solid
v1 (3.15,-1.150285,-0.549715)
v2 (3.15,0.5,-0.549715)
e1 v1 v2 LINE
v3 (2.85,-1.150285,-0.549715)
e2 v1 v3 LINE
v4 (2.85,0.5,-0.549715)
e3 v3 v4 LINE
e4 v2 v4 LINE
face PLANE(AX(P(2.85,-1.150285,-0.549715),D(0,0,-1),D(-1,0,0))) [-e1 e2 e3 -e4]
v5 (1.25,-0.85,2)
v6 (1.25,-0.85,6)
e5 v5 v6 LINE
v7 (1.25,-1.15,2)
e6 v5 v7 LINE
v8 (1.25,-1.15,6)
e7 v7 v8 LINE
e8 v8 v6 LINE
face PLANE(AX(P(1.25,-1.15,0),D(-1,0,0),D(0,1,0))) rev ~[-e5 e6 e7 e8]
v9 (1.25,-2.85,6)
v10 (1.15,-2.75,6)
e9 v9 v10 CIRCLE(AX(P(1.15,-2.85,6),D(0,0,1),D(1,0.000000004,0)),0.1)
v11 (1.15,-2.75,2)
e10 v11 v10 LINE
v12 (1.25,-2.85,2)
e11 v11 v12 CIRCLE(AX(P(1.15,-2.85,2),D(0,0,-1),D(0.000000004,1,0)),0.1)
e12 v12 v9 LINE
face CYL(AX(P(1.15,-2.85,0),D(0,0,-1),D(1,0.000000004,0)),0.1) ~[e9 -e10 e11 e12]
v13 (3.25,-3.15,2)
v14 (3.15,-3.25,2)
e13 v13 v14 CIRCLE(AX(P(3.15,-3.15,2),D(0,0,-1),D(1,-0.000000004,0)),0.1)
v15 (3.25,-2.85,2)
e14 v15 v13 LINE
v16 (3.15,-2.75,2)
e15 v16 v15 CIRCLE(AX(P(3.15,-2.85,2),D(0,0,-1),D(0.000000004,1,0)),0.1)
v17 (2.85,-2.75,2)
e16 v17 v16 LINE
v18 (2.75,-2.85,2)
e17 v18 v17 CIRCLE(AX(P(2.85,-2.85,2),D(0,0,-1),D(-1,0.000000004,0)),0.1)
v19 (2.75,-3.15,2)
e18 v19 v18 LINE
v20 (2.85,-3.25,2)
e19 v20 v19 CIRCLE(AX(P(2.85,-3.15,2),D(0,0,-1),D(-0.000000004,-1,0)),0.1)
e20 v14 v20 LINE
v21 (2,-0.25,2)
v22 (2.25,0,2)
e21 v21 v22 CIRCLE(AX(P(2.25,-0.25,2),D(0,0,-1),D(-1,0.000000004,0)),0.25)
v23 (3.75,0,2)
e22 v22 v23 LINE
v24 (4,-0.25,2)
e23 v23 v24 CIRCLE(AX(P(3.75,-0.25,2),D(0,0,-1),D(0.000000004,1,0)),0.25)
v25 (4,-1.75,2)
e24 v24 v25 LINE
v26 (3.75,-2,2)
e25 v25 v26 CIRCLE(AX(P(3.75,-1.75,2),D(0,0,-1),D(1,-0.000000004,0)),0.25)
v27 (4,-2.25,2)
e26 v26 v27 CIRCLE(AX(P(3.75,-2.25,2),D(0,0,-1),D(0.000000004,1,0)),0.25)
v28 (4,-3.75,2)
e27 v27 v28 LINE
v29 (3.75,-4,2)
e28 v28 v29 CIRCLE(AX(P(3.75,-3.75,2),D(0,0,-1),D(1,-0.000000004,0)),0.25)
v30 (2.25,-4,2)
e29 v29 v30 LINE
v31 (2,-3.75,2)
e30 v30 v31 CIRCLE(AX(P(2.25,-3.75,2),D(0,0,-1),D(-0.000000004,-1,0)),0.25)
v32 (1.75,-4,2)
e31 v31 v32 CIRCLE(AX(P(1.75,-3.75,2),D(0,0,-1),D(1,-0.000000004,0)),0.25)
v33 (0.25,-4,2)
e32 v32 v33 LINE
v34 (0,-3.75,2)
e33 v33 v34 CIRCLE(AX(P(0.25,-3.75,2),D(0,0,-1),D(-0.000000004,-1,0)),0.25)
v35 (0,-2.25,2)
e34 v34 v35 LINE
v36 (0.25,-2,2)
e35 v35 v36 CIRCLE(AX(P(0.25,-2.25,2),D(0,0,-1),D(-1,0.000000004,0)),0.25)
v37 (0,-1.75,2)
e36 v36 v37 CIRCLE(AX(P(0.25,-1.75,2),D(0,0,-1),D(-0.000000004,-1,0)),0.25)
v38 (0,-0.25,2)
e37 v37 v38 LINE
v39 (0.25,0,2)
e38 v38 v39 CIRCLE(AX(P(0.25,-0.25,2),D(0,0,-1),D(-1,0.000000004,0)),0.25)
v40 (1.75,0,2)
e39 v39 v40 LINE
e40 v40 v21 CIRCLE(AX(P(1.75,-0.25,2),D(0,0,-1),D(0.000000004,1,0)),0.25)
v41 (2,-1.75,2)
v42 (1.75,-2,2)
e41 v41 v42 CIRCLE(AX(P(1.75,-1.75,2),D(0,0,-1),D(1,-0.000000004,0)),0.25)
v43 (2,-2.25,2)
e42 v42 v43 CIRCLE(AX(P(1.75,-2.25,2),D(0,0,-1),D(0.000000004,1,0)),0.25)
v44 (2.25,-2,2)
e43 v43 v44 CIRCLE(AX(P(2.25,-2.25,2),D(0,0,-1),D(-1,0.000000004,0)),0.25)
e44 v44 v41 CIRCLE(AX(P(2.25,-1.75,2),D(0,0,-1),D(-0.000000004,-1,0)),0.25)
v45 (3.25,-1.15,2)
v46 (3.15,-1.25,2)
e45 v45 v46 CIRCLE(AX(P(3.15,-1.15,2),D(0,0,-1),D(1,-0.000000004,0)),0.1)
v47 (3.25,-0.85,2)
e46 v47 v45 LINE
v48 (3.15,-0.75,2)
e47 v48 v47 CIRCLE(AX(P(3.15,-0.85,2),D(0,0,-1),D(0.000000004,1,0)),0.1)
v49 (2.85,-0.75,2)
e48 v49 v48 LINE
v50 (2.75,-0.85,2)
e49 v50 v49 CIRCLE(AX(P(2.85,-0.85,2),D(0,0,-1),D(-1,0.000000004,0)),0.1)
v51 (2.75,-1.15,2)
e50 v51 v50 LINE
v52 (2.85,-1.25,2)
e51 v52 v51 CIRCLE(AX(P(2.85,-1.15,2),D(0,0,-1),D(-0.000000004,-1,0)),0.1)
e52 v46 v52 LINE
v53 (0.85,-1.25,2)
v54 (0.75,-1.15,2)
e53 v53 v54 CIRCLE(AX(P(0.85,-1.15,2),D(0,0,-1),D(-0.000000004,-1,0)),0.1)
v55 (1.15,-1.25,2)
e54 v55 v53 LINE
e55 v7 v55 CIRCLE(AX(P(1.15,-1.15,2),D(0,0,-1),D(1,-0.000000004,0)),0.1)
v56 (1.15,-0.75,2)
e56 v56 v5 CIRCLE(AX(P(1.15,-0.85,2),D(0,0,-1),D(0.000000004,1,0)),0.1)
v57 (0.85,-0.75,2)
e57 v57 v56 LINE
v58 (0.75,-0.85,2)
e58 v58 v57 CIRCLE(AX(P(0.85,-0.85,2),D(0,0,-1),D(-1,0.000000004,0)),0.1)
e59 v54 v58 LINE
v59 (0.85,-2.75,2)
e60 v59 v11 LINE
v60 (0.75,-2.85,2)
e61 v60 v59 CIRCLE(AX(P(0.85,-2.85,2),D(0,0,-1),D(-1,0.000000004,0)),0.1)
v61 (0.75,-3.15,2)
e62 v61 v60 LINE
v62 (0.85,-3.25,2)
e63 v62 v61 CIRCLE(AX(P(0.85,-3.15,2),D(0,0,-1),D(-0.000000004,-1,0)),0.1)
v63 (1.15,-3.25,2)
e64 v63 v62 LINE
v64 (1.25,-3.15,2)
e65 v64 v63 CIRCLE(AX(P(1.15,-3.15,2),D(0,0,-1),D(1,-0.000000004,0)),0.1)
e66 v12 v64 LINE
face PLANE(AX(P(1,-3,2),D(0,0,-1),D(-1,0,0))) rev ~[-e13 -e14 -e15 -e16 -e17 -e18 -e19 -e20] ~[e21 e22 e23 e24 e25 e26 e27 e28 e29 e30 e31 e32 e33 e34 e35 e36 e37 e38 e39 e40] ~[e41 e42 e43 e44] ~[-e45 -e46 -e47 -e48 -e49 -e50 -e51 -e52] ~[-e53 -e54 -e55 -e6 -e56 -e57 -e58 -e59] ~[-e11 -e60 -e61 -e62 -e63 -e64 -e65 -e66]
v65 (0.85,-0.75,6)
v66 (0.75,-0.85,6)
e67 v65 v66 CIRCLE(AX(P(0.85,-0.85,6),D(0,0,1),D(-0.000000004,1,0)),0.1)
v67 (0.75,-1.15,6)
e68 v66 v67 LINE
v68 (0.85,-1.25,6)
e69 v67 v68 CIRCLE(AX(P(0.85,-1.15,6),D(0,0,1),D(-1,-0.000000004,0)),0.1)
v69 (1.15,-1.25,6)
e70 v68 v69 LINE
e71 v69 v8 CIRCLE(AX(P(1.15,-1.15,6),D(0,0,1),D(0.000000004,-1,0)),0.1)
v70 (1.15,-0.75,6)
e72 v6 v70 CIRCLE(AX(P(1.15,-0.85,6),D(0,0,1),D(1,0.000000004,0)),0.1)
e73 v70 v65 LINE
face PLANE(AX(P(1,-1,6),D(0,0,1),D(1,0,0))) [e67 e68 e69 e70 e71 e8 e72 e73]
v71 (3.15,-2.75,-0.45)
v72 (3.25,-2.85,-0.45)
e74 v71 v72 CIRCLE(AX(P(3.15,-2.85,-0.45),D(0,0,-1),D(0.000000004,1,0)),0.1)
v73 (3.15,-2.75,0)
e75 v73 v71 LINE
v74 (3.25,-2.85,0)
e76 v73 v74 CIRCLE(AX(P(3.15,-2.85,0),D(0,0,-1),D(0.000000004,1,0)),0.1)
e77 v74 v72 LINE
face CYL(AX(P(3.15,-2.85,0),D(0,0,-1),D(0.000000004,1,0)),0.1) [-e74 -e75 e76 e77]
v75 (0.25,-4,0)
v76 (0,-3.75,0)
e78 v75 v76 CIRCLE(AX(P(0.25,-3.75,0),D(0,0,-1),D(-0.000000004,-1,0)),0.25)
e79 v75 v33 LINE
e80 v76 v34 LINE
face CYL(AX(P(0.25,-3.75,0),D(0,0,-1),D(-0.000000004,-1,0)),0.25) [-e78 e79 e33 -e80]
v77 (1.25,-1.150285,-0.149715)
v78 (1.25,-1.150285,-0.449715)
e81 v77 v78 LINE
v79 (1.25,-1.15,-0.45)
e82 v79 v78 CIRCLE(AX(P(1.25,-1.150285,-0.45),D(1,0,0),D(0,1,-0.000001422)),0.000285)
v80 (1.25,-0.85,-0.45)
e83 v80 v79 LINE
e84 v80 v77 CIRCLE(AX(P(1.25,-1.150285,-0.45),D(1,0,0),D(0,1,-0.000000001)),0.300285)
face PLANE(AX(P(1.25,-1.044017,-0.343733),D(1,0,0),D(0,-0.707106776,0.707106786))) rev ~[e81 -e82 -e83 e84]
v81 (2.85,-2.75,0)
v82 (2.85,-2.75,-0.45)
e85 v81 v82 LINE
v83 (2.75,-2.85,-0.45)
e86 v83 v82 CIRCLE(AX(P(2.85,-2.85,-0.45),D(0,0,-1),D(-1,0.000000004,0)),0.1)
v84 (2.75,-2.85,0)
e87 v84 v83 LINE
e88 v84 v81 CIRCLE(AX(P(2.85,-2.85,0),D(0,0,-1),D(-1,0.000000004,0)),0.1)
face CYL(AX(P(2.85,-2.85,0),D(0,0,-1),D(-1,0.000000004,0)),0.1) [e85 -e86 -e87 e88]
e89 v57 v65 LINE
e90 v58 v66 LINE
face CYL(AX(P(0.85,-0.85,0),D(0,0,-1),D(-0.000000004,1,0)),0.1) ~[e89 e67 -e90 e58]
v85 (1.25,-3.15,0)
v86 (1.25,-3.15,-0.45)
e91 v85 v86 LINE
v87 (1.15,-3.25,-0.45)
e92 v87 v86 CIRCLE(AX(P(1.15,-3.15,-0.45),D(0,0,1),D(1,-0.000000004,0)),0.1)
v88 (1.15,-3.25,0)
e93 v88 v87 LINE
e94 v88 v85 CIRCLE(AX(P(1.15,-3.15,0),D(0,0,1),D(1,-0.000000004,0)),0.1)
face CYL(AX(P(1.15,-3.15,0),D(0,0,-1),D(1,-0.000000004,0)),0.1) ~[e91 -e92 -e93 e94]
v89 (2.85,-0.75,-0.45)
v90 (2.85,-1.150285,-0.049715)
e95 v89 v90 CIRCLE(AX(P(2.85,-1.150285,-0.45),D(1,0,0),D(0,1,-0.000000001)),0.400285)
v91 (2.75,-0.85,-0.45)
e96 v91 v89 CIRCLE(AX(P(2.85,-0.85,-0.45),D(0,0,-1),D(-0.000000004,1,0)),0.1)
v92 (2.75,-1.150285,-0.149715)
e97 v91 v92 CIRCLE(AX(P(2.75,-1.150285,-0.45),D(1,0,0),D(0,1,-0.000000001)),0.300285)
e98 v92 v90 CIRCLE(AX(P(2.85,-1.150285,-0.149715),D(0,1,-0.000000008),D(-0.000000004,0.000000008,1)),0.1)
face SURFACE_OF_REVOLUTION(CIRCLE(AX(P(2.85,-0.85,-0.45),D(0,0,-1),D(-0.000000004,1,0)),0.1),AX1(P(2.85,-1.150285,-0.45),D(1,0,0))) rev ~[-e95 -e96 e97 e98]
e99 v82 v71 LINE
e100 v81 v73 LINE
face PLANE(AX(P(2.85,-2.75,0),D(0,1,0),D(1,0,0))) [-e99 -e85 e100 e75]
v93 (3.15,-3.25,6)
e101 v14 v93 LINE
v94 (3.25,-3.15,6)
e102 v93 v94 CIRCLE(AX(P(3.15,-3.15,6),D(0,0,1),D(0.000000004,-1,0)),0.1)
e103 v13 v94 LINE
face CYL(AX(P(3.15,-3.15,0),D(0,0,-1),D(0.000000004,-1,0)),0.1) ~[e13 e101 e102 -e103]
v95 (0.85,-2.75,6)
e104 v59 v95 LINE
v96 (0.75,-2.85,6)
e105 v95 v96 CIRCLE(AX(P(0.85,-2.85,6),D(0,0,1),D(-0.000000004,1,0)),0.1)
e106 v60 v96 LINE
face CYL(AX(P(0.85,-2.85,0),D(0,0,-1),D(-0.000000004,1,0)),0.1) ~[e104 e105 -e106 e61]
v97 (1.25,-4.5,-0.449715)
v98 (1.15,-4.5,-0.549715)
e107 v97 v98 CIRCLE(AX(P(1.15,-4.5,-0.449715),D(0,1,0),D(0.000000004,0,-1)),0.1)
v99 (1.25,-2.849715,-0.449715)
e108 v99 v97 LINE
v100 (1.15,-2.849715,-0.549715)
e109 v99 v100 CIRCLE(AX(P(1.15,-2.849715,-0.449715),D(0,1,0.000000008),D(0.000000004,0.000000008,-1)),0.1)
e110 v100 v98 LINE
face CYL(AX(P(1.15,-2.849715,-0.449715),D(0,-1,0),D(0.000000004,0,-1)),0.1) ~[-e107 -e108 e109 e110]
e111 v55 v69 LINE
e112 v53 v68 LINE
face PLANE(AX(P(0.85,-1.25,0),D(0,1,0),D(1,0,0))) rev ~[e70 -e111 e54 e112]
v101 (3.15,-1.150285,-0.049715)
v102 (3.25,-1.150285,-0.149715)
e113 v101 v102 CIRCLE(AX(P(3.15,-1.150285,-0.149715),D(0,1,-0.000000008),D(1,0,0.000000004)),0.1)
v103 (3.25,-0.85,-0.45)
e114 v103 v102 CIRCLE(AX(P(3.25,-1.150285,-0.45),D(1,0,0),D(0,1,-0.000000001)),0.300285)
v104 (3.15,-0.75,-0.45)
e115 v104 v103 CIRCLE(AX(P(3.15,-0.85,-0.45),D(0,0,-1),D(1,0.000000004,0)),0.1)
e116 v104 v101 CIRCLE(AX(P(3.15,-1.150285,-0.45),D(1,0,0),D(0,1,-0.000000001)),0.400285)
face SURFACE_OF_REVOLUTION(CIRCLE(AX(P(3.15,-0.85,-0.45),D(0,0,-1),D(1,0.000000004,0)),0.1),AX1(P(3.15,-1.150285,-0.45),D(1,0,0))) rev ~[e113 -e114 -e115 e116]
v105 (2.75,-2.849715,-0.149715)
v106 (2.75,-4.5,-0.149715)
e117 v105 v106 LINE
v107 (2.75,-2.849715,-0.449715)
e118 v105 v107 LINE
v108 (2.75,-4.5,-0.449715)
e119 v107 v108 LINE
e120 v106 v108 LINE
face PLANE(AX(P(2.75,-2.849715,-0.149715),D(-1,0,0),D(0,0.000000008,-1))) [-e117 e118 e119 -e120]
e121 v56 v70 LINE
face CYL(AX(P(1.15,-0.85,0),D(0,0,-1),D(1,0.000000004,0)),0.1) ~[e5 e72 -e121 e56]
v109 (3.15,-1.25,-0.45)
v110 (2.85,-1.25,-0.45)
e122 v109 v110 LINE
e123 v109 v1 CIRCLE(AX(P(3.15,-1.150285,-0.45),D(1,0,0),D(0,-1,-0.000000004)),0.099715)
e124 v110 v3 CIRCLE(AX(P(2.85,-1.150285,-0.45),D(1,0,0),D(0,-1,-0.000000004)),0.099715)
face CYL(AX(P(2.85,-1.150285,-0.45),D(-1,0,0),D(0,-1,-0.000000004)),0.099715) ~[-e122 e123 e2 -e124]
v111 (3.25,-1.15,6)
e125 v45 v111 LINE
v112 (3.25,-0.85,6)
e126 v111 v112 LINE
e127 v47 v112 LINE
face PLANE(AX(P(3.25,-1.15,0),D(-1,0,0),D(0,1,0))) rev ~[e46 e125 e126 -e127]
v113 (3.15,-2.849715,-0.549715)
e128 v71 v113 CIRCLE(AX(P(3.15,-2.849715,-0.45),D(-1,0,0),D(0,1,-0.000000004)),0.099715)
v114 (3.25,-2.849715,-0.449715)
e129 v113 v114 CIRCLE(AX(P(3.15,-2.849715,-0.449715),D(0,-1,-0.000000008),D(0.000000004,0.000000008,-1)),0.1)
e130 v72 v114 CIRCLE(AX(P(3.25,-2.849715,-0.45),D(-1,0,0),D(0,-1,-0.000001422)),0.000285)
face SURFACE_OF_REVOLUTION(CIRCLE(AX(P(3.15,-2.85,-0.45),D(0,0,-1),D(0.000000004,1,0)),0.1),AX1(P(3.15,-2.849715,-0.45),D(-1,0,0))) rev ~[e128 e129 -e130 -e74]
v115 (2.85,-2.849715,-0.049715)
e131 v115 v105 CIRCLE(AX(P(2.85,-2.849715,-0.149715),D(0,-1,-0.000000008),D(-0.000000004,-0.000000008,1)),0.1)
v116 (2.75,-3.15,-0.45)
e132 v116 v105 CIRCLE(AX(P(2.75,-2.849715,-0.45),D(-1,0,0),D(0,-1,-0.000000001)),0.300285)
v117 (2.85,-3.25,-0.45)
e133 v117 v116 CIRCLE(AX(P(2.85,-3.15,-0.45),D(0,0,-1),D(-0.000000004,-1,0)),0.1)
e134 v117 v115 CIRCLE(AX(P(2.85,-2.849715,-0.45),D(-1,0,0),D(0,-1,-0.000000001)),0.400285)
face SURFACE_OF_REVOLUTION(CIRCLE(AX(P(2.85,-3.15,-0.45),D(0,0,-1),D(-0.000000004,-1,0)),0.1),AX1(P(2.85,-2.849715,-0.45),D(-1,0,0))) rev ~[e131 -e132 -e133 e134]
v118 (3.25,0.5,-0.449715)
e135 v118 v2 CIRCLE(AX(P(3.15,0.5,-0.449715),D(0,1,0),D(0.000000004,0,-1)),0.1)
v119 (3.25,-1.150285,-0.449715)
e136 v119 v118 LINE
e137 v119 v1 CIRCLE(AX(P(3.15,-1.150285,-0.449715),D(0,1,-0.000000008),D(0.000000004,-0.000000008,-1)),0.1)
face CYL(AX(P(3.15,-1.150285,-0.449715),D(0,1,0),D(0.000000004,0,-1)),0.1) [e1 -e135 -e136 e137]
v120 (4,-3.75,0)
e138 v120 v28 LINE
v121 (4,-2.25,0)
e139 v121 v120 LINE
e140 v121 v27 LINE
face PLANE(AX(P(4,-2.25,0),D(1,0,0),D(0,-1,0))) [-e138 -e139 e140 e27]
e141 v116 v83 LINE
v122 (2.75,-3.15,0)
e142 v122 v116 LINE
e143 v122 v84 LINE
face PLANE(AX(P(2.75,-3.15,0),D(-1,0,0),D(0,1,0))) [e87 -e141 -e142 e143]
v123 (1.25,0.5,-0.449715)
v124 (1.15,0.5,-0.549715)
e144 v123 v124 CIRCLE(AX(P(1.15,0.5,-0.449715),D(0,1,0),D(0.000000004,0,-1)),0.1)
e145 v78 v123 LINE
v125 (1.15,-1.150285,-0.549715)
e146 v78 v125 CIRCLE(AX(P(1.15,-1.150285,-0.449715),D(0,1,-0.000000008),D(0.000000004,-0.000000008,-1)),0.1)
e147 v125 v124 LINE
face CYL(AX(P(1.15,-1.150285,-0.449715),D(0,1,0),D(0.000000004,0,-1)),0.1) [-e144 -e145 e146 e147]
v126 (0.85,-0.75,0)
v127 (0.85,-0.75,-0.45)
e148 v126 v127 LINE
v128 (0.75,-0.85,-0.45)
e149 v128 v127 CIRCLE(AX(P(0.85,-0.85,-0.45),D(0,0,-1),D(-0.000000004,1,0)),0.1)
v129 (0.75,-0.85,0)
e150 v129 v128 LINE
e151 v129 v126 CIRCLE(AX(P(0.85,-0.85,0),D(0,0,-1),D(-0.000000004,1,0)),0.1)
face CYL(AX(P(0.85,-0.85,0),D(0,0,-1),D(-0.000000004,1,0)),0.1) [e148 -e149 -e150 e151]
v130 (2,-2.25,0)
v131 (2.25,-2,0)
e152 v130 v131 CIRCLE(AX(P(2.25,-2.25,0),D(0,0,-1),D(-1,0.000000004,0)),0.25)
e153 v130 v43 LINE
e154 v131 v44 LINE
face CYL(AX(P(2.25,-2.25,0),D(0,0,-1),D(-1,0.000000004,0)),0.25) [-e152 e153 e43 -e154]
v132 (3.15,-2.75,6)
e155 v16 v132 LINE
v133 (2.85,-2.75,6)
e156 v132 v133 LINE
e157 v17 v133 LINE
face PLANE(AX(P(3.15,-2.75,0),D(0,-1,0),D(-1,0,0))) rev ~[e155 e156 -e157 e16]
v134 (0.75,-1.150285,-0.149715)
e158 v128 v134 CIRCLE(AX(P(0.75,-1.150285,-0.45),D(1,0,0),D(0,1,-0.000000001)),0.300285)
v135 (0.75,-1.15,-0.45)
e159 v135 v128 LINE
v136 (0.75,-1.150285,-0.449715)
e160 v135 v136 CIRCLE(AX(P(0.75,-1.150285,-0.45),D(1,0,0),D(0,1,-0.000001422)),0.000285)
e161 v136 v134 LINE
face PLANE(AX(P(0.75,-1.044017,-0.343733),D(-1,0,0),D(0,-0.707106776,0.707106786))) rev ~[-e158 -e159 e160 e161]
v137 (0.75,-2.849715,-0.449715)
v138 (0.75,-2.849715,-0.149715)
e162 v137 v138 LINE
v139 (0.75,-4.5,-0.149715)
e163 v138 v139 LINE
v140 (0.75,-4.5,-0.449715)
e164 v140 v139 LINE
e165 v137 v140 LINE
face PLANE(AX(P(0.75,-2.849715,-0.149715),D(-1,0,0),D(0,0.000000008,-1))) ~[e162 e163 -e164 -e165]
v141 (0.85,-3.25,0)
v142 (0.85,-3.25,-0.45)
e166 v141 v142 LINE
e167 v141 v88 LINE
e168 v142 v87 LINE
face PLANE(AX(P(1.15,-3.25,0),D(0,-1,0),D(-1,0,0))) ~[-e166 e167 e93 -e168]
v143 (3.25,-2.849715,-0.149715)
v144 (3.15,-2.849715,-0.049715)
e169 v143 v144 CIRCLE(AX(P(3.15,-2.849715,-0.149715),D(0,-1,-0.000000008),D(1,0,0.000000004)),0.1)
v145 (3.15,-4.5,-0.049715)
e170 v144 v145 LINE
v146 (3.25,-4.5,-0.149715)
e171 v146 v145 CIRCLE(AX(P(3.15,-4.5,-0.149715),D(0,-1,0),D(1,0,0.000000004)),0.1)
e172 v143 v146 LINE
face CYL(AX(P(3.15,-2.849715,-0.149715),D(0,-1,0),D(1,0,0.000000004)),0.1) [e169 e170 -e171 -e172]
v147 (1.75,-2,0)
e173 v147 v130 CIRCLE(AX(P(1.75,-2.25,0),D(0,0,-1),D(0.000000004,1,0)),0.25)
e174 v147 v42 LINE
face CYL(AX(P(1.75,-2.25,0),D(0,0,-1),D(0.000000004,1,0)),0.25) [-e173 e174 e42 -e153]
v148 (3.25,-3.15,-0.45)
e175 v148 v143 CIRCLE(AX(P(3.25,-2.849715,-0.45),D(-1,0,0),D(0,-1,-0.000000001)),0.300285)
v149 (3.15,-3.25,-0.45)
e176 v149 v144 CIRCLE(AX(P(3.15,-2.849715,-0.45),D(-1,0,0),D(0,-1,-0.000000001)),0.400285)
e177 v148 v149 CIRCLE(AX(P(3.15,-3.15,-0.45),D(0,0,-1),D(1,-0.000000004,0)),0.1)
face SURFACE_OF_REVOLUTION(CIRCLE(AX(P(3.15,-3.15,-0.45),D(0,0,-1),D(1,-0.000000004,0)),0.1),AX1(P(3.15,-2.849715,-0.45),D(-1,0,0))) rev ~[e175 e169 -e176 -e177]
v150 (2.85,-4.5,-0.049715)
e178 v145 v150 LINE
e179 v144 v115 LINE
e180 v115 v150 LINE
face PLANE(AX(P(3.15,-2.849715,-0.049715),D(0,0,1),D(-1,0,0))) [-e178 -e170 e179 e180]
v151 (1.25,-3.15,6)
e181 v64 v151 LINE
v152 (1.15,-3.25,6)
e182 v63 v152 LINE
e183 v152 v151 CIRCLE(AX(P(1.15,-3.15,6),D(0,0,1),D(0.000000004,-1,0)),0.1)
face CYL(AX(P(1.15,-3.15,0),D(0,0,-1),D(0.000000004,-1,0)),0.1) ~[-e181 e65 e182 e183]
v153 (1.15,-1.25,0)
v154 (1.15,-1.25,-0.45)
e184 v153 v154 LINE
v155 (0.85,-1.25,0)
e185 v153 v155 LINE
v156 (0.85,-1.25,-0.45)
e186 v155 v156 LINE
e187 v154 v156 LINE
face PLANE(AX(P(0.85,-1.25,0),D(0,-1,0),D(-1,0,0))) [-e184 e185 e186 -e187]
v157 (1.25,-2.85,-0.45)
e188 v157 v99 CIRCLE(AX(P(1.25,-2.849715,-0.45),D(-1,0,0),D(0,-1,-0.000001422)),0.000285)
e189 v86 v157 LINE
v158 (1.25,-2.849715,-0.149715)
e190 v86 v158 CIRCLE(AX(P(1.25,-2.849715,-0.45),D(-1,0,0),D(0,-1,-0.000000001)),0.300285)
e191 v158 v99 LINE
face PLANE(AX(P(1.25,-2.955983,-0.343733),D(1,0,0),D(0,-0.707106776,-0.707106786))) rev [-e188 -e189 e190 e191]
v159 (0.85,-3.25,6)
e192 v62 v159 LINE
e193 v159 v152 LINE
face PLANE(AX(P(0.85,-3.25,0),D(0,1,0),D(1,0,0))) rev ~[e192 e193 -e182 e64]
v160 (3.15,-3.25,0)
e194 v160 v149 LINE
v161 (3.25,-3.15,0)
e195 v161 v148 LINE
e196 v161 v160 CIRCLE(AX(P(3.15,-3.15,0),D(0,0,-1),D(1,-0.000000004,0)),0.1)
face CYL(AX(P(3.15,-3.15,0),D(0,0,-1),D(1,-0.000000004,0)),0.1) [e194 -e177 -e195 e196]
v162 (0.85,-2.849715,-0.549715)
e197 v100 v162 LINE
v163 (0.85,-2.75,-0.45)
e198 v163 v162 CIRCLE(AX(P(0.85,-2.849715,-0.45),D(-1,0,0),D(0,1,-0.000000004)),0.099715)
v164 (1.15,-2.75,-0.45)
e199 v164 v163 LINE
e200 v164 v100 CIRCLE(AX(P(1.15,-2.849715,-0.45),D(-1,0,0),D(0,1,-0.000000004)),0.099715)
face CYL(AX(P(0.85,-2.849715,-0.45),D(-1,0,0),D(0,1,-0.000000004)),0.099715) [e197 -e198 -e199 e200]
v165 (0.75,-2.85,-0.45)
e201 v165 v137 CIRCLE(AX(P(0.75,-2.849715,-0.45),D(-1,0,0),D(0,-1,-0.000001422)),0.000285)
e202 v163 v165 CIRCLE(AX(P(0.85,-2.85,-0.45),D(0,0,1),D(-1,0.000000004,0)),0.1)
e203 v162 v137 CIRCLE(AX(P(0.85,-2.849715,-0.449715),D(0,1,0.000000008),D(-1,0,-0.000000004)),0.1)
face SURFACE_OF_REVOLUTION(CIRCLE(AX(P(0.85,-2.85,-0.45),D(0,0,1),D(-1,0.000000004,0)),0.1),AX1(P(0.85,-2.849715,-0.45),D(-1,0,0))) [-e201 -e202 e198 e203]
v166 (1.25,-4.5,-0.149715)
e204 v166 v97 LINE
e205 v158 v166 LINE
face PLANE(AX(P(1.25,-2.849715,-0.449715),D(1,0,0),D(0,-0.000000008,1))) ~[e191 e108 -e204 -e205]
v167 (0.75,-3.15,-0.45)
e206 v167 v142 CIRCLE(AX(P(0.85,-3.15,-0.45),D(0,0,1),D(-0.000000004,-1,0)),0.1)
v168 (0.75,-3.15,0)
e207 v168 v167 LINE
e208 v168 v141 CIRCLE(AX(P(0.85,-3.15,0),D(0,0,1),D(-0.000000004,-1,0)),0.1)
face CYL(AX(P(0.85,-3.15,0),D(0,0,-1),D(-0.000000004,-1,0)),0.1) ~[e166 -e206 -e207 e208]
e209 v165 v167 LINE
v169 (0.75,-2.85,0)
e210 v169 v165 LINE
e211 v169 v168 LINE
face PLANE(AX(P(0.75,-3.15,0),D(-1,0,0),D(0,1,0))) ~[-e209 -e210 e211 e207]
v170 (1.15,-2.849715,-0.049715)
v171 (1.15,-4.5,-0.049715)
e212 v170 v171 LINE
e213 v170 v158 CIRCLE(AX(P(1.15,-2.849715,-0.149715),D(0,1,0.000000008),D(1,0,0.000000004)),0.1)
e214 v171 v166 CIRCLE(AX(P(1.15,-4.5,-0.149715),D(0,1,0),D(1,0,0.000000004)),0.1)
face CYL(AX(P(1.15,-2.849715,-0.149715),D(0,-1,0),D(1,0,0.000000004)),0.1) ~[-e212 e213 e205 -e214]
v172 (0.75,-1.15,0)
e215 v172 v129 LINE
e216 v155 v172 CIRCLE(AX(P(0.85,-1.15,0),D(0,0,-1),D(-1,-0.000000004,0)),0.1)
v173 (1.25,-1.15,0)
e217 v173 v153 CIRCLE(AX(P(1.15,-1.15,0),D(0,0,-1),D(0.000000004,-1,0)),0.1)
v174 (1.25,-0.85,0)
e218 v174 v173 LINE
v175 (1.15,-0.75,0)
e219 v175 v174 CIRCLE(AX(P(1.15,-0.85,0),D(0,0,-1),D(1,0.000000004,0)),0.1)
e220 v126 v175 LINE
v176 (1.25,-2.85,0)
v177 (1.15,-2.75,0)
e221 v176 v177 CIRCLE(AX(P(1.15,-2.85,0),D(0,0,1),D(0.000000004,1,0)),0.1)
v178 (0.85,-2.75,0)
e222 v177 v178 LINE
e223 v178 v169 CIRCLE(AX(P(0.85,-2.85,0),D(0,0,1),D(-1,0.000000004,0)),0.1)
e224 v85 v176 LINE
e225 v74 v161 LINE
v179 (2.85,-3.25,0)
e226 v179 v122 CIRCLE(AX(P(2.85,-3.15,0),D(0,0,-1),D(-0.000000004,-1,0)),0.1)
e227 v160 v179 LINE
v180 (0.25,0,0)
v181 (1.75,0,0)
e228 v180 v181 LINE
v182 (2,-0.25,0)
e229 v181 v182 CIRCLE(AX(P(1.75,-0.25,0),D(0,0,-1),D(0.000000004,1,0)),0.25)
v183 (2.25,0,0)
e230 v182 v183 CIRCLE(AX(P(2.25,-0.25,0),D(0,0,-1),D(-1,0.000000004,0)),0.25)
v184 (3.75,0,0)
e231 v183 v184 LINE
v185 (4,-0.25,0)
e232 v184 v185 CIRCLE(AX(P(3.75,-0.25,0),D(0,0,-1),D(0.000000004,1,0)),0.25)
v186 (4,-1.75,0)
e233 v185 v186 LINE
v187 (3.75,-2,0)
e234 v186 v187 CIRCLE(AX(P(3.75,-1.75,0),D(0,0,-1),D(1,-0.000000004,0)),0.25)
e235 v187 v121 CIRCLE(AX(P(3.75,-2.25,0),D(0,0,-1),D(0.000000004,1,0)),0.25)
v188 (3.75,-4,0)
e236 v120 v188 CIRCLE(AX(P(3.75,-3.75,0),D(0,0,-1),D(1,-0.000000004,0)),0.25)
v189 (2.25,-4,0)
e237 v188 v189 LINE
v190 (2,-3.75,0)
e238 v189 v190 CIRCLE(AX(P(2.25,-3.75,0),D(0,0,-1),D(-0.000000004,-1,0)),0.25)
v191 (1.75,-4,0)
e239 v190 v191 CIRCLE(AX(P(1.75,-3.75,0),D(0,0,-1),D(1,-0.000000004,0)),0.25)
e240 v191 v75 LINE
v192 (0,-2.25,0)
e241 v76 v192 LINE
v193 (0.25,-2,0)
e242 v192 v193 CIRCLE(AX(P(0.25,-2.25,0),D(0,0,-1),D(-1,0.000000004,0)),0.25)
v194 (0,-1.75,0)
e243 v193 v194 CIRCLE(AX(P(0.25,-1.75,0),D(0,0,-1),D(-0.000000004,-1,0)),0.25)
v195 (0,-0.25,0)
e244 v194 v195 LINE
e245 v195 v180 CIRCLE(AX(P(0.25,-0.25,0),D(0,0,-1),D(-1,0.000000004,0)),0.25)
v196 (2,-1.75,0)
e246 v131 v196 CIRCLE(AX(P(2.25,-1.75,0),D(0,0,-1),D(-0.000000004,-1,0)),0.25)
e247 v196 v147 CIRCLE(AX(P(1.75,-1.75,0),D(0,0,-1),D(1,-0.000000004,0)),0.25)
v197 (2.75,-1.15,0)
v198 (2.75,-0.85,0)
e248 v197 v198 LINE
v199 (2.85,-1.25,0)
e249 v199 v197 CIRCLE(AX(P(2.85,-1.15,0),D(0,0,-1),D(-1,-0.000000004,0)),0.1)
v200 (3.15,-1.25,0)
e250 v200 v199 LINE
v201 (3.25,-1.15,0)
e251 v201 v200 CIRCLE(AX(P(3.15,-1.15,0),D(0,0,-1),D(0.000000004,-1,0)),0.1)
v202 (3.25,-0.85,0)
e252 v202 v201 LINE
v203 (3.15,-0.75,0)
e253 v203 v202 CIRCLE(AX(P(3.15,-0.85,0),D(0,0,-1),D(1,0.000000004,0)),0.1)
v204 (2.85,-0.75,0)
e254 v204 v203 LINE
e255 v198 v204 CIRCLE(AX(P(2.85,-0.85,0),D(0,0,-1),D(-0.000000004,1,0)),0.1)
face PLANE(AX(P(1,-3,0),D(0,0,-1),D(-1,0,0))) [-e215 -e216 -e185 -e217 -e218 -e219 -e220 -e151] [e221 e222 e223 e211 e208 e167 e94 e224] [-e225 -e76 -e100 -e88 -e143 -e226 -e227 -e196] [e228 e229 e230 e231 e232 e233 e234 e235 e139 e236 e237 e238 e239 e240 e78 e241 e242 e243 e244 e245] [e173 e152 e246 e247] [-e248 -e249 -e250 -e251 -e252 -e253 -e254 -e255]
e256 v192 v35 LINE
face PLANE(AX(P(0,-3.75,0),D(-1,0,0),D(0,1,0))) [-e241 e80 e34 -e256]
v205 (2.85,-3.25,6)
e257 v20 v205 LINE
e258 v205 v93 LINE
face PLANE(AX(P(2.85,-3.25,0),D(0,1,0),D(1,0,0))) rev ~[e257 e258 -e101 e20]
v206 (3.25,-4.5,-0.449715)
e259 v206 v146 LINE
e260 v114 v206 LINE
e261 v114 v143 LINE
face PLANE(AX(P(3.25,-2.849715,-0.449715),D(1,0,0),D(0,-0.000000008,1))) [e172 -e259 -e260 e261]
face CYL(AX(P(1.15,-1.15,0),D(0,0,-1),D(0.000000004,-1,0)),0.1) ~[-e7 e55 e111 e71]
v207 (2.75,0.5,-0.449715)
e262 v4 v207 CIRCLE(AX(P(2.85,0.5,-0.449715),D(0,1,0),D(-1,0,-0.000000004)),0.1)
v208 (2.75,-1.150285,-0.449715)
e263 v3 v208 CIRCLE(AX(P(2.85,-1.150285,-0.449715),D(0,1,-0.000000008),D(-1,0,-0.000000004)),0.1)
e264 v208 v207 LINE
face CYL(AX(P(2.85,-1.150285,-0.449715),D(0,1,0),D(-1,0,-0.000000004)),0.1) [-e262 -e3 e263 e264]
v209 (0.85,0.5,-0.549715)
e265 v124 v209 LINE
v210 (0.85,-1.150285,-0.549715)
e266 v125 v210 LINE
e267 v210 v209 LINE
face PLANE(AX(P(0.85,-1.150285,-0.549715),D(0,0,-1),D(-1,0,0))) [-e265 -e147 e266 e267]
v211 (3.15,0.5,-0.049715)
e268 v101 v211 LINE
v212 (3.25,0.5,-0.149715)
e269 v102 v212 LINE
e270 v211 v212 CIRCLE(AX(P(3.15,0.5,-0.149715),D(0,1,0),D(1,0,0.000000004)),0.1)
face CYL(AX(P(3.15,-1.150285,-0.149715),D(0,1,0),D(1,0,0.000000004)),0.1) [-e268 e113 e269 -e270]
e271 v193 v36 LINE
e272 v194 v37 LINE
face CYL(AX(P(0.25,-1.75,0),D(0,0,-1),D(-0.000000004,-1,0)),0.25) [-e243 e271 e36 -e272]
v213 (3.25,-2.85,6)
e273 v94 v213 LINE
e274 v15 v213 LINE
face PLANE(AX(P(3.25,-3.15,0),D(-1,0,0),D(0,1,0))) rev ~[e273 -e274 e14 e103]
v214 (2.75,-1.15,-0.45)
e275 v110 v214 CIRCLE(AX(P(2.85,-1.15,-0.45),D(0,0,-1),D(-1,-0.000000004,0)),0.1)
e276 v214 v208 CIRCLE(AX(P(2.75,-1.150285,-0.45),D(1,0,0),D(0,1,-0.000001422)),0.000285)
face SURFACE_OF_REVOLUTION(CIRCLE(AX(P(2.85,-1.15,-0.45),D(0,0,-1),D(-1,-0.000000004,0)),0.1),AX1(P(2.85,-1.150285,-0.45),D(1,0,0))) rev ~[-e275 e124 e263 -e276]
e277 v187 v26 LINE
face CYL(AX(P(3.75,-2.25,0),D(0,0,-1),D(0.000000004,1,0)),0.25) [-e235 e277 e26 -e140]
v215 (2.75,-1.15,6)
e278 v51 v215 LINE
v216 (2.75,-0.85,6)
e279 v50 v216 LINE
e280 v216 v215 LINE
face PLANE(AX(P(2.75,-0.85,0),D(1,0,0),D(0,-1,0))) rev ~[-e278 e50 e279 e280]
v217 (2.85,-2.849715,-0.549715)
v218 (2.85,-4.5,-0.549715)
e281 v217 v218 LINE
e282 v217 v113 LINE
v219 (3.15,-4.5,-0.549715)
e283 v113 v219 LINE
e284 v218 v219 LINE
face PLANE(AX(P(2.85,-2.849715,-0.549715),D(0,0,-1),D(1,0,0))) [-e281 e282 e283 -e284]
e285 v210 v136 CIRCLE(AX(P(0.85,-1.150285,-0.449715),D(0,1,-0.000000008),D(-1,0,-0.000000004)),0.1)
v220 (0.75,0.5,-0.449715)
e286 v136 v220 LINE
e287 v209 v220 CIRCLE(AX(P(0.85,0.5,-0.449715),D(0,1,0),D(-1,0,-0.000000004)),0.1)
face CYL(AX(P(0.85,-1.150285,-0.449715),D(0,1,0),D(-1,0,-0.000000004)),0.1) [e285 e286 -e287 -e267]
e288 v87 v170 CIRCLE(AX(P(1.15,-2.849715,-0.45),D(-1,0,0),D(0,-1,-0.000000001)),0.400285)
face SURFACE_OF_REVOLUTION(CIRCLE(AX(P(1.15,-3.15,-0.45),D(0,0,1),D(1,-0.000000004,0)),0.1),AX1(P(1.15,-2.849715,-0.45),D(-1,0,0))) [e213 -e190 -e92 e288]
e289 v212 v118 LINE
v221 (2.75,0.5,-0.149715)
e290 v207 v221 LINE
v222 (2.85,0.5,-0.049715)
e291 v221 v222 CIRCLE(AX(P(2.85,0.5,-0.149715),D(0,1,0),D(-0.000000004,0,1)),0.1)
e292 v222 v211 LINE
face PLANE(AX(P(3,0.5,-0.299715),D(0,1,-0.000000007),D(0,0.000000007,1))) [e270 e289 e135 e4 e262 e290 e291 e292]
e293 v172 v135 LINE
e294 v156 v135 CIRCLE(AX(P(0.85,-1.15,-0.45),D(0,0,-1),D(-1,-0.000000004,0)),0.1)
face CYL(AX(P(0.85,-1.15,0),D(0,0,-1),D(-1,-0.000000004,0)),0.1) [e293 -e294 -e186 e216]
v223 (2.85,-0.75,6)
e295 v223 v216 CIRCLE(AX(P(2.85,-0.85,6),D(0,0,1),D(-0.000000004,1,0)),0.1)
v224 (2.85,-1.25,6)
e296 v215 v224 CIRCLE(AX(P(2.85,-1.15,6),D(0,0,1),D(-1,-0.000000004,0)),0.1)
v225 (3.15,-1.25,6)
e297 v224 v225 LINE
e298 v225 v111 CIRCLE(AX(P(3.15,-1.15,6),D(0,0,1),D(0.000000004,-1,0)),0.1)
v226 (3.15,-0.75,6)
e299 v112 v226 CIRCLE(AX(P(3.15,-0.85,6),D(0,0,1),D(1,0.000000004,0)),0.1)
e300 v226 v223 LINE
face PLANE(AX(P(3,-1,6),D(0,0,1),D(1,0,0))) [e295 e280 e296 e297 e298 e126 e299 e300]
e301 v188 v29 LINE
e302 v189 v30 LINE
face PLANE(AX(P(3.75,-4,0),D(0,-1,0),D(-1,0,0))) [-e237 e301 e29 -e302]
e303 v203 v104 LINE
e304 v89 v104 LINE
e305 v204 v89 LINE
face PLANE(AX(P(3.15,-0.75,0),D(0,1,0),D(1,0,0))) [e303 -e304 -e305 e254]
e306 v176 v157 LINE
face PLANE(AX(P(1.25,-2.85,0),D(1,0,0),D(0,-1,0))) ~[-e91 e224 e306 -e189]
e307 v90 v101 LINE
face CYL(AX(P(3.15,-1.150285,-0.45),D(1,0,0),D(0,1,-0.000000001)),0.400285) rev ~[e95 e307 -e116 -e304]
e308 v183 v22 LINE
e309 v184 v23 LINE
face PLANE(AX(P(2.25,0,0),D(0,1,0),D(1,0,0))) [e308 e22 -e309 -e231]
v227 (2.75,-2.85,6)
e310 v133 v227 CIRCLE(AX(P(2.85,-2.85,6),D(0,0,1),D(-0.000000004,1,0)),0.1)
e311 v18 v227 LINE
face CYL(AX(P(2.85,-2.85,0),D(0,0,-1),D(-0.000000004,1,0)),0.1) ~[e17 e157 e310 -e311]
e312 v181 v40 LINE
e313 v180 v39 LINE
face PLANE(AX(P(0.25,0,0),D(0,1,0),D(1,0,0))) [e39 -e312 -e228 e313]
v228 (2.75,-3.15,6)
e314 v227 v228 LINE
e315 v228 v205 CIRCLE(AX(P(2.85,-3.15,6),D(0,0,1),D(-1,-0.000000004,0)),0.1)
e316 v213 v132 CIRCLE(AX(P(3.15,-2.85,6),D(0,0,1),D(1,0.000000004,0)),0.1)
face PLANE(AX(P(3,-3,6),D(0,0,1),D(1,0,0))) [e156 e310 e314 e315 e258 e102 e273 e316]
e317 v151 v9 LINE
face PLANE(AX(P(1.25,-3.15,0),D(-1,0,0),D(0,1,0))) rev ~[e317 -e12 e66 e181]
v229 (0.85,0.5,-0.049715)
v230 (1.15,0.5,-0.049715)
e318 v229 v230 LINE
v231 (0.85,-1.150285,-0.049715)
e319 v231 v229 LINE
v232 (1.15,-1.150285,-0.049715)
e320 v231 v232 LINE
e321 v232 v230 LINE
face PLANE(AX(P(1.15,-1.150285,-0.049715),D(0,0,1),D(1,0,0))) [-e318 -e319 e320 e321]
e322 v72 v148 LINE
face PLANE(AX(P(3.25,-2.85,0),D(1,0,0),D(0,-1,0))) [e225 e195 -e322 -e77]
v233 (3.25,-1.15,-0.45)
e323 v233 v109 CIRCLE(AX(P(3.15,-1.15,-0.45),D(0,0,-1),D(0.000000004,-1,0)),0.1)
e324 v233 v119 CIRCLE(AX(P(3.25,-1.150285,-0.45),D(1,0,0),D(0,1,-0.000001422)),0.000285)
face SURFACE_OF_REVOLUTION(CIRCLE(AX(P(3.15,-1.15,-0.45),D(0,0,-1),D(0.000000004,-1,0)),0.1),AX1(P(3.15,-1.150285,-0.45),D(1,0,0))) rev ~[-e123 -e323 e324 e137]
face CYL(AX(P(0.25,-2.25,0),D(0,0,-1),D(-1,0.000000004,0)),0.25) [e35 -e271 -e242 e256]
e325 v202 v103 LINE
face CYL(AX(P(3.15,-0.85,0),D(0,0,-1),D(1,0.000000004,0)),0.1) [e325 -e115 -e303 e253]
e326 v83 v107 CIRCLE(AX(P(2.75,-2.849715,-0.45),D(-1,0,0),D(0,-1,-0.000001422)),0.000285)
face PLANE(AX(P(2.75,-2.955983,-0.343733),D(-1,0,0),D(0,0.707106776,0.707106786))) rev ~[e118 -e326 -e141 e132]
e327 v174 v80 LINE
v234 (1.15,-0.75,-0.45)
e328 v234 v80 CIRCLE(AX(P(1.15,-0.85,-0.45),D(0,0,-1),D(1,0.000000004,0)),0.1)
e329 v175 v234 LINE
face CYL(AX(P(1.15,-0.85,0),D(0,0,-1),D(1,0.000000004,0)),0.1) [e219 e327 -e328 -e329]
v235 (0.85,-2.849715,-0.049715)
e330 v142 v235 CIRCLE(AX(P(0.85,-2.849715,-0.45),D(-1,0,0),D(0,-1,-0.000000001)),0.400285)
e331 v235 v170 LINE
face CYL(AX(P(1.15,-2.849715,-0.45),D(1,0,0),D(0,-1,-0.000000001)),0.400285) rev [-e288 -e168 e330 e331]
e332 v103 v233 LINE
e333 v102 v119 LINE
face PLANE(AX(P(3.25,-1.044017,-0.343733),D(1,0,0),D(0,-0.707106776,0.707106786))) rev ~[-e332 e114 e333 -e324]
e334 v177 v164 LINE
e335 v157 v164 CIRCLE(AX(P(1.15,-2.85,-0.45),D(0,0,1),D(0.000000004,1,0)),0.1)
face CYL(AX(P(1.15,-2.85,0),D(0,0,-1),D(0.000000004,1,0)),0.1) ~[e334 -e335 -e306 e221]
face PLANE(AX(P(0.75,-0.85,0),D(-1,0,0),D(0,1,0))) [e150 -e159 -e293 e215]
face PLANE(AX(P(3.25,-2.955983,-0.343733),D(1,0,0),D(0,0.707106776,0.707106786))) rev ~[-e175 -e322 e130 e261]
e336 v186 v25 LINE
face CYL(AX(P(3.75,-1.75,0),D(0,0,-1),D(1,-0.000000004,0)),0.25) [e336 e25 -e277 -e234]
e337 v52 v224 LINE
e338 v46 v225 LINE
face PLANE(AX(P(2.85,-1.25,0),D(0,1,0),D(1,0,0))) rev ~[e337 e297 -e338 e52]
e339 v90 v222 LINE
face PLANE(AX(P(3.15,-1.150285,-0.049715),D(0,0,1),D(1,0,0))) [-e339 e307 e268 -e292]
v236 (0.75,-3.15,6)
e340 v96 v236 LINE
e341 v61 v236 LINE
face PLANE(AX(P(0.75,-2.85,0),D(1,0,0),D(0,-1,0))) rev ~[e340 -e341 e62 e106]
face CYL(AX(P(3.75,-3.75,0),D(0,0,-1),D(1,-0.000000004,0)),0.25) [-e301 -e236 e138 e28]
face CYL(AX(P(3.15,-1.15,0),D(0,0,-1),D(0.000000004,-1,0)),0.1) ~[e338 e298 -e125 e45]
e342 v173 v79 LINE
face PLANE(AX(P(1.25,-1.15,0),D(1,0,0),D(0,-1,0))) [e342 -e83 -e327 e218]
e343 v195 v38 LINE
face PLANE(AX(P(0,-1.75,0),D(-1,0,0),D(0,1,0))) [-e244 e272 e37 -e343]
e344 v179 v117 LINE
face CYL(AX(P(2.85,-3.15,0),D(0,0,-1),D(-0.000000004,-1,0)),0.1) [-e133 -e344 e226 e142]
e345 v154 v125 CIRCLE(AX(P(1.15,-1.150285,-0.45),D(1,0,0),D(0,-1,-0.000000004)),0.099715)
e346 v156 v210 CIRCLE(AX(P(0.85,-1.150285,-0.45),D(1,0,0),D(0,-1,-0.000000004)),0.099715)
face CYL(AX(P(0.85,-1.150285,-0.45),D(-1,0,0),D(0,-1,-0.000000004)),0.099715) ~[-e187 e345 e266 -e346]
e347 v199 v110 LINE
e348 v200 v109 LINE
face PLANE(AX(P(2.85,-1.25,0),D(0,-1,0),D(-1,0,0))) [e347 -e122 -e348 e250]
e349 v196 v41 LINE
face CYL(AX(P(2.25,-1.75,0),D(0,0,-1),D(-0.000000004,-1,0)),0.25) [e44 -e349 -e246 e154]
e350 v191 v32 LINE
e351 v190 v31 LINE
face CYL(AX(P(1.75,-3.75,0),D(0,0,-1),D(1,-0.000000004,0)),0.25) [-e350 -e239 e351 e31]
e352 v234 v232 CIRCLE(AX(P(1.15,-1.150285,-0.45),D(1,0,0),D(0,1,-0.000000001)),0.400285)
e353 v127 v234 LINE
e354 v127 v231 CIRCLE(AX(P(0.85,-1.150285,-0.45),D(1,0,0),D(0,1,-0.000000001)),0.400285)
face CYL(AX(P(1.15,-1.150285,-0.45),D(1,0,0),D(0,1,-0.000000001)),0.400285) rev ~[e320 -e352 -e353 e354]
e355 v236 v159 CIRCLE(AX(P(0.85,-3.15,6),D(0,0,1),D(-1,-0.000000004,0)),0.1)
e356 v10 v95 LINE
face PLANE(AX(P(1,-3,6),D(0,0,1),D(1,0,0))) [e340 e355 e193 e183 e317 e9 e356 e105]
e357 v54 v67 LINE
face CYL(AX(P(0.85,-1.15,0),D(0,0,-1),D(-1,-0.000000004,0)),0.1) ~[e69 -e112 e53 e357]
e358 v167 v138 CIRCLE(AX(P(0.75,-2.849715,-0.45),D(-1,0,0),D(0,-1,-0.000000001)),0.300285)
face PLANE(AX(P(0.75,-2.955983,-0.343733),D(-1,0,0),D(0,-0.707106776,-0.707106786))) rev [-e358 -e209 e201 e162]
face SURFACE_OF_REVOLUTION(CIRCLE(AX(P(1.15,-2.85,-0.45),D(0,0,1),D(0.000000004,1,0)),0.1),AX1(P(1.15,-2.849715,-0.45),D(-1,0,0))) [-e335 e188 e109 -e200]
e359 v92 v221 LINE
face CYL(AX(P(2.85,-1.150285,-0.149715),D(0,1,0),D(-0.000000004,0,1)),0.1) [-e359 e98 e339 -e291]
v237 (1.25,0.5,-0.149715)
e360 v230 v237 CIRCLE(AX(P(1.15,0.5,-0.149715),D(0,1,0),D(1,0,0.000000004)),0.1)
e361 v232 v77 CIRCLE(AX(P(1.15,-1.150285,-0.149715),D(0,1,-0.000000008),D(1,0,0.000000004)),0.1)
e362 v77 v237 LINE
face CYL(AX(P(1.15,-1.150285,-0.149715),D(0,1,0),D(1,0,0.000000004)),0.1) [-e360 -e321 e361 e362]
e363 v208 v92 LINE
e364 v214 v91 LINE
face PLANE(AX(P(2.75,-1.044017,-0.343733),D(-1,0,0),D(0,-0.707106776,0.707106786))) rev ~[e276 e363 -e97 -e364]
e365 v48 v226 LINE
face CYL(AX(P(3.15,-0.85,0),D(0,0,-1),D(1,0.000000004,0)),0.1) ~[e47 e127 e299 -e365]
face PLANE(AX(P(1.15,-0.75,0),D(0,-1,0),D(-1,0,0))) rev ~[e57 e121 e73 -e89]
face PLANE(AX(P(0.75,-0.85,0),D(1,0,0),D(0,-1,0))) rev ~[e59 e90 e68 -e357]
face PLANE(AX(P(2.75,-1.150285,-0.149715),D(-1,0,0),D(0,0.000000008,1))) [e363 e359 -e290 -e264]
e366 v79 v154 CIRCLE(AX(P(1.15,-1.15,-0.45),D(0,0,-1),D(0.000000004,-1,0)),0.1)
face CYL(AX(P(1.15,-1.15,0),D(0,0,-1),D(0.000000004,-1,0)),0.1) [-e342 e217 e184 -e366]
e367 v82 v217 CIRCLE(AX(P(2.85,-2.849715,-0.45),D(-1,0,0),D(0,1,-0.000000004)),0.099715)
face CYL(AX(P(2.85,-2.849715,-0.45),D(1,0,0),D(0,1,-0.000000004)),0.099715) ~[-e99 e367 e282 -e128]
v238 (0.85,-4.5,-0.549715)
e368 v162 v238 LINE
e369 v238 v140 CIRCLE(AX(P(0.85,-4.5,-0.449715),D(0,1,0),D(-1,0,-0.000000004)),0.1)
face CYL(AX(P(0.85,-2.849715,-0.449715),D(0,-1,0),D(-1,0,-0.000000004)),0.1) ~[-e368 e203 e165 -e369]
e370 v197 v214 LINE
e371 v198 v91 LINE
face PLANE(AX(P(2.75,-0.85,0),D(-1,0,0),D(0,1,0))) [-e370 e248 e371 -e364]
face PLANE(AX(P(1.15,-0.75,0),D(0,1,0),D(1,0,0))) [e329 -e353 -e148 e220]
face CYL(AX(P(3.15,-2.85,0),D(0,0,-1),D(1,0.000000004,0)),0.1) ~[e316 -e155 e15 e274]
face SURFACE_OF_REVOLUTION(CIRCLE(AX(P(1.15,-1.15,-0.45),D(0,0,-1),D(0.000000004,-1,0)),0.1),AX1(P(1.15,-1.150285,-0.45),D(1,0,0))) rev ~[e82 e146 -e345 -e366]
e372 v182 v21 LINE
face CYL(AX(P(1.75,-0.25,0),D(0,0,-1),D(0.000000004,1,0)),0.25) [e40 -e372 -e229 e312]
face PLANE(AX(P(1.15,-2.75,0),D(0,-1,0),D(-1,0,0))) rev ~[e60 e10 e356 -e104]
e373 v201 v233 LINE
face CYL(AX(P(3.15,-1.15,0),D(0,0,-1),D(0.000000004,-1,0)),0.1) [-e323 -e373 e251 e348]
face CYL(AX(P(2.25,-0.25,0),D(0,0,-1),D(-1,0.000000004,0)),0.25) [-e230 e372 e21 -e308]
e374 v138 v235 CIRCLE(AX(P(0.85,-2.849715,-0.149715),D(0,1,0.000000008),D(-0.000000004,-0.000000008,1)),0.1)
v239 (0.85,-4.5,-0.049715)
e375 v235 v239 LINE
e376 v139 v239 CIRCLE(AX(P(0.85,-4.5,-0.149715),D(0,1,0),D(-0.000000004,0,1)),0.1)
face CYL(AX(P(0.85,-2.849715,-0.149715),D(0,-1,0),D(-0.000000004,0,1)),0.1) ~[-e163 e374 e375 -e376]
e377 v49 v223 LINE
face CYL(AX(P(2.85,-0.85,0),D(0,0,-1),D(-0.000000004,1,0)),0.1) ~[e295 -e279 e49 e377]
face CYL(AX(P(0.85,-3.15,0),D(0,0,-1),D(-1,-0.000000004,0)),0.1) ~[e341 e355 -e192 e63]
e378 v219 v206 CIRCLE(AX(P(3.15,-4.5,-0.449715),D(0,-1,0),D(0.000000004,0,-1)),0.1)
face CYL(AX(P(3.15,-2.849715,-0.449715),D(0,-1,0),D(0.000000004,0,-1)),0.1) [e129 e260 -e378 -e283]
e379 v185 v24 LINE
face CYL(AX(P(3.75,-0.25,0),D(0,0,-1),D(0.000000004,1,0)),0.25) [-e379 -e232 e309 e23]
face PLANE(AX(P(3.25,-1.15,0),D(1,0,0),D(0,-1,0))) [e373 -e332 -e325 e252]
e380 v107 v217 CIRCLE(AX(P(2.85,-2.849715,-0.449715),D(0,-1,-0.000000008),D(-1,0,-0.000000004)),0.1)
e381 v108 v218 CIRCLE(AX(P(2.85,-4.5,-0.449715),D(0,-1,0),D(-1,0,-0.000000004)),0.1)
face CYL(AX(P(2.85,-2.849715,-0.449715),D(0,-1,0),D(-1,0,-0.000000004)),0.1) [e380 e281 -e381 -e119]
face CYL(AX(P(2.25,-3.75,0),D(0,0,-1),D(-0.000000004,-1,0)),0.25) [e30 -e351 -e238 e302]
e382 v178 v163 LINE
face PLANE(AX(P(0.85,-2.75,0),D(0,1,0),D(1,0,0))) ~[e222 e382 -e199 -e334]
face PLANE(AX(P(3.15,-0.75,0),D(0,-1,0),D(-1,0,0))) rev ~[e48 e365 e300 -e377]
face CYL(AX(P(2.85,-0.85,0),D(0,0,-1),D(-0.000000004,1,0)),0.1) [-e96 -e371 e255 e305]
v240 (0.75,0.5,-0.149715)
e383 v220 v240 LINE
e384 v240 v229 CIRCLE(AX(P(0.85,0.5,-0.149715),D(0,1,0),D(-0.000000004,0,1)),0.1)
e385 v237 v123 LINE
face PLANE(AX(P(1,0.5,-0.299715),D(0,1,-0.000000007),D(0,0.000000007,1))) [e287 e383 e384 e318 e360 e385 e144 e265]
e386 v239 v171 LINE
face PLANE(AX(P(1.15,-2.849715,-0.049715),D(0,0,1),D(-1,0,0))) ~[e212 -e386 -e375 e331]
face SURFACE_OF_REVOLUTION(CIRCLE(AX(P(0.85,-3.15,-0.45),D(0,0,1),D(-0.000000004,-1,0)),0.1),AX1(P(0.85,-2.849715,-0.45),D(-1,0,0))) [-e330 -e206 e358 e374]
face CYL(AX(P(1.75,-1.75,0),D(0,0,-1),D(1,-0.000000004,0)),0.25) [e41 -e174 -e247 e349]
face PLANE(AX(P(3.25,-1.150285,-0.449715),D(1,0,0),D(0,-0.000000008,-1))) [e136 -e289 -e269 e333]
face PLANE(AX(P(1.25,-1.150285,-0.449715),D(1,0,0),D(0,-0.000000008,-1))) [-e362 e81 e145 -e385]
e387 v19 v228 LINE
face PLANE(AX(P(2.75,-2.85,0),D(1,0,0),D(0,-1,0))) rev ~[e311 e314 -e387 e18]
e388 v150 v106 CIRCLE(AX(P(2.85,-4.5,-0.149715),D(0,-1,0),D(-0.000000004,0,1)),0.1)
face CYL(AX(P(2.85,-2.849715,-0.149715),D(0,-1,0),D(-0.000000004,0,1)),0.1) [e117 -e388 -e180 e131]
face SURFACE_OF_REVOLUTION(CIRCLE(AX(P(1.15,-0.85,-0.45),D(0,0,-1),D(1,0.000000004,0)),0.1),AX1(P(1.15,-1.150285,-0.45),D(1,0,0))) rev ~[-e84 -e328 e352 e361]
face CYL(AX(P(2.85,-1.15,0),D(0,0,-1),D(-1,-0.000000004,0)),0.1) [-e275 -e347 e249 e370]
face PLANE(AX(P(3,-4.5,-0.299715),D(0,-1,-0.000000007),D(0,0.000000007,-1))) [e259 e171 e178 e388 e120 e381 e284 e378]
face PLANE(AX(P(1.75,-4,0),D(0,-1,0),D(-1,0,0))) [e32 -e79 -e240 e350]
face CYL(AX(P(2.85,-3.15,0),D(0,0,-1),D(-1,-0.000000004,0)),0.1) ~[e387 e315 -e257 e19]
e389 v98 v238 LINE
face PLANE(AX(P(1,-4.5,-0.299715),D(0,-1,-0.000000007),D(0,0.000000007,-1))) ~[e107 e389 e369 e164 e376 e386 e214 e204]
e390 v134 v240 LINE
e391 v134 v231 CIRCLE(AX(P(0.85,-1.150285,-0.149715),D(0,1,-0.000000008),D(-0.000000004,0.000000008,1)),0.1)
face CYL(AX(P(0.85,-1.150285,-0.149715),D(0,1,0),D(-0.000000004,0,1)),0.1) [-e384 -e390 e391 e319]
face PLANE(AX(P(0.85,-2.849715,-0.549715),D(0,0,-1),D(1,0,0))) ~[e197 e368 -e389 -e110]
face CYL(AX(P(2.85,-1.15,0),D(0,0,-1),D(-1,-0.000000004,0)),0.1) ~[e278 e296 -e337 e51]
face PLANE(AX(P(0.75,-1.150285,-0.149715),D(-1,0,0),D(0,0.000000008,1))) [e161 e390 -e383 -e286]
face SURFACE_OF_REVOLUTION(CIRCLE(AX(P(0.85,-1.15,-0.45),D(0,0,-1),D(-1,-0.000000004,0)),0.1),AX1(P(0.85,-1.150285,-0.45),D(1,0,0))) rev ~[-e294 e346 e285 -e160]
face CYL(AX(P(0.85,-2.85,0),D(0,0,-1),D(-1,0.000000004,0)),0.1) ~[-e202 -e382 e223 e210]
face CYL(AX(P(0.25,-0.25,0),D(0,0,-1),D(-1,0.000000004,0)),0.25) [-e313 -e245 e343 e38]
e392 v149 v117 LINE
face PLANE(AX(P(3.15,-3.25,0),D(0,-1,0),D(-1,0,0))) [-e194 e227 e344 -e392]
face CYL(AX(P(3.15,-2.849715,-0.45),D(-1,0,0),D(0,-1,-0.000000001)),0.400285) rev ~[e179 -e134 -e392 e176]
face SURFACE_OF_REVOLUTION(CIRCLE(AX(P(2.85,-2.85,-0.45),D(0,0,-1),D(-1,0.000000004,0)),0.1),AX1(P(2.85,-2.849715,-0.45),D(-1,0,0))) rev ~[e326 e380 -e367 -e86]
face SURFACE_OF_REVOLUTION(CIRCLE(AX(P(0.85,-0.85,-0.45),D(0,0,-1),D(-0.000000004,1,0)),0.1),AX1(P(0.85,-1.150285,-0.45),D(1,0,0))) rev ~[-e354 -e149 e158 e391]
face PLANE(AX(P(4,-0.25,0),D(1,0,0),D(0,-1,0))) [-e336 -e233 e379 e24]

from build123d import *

# Parameters (mm, degrees)
EXTRUDE_1_DEPTH             = 2
EXTRUDE_START               = -2
EXTRUDE_2_DEPTH             = 6
PATTERN_LINEAR_2_COUNT      = 2
PATTERN_LINEAR_2_PITCH      = 2
PATTERN_LINEAR_2_COUNT_DIR2 = 2
PATTERN_LINEAR_2_PITCH_DIR2 = 2
PATTERN_LINEAR_10_COUNT     = 2
PATTERN_LINEAR_10_PITCH     = 2


with BuildPart() as part:
    # 草图1 → 凸台-拉伸1 (new body)
    with BuildSketch(Plane.XY):
        with BuildLine():
            Line((0.25, 0), (1.75, 0))
            ThreePointArc((1.75, 0), (1.926776695, -0.073223305), (2, -0.25))
            Line((2, -0.25), (2, -1.75))
            ThreePointArc((2, -1.75), (1.926776695, -1.926776695), (1.75, -2))
            Line((1.75, -2), (0.25, -2))
            ThreePointArc((0.25, -2), (0.073223305, -1.926776695), (0, -1.75))
            Line((0, -1.75), (0, -0.25))
            ThreePointArc((0, -0.25), (0.073223305, -0.073223305), (0.25, 0))
        make_face()
        with BuildLine():
            Line((0.85, -0.75), (1.15, -0.75))
            ThreePointArc((1.15, -0.75), (1.220710678, -0.779289322), (1.25, -0.85))
            Line((1.25, -0.85), (1.25, -1.15))
            ThreePointArc((1.25, -1.15), (1.220710678, -1.220710678), (1.15, -1.25))
            Line((1.15, -1.25), (0.85, -1.25))
            ThreePointArc((0.85, -1.25), (0.779289322, -1.220710678), (0.75, -1.15))
            Line((0.75, -1.15), (0.75, -0.85))
            ThreePointArc((0.75, -0.85), (0.779289322, -0.779289322), (0.85, -0.75))
        make_face(mode=Mode.SUBTRACT)
    extrude_1 = extrude(amount=EXTRUDE_1_DEPTH)

    # 草图2 → 凸台-拉伸2 (add)
    with BuildSketch(Plane.XY.offset(2).offset(EXTRUDE_START)):
        with BuildLine():
            Line((0.75, -0.85), (0.75, -1.15))
            ThreePointArc((0.75, -1.15), (0.779289322, -1.220710678), (0.85, -1.25))
            Line((0.85, -1.25), (1.15, -1.25))
            ThreePointArc((1.15, -1.25), (1.220710678, -1.220710678), (1.25, -1.15))
            Line((1.25, -1.15), (1.25, -0.85))
            ThreePointArc((1.25, -0.85), (1.220710678, -0.779289322), (1.15, -0.75))
            Line((1.15, -0.75), (0.85, -0.75))
            ThreePointArc((0.85, -0.75), (0.779289322, -0.779289322), (0.75, -0.85))
        make_face()
    extrude_2 = extrude(amount=EXTRUDE_2_DEPTH)

    # 阵列(线性)2: 凸台-拉伸1, Extrude 2 2 × 2
    with Locations(*[(i * PATTERN_LINEAR_2_PITCH, -j * PATTERN_LINEAR_2_PITCH_DIR2, 0) for i in range(PATTERN_LINEAR_2_COUNT) for j in range(PATTERN_LINEAR_2_COUNT_DIR2) if (i, j) != (0, 0)]):
        add(extrude_1)
        add(extrude_2)

    # 扫描2: sweep along a path in 草图4
    with BuildLine(Plane.ZY.offset(-1)) as sweep_2_path:
        Line((0, -1.250284889), (-0.45, -1.250284889))
        ThreePointArc((-0.45, -1.250284889), (-0.520710678, -1.220995567), (-0.55, -1.150284889))
        Line((-0.55, -1.150284889), (-0.55, 0.5))
    # 草图3 → 扫描2 (sweep)
    with BuildSketch(Plane(origin=(0, 0, 0), x_dir=(-1, 0, 0), z_dir=(0, 0, -1))):
        with BuildLine():
            Line((-0.75, -0.85), (-0.75, -1.15))
            ThreePointArc((-0.75, -1.15), (-0.779289322, -1.220710678), (-0.85, -1.25))
            Line((-0.85, -1.25), (-1.15, -1.25))
            ThreePointArc((-1.15, -1.25), (-1.220710678, -1.220710678), (-1.25, -1.15))
            Line((-1.25, -1.15), (-1.25, -0.85))
            ThreePointArc((-1.25, -0.85), (-1.220710678, -0.779289322), (-1.15, -0.75))
            Line((-1.15, -0.75), (-0.85, -0.75))
            ThreePointArc((-0.85, -0.75), (-0.779289322, -0.779289322), (-0.75, -0.85))
        make_face()
    sweep_2 = sweep(path=sweep_2_path.line)

    # 镜向5: 扫描2 across plane
    add(sweep_2.mirror(Plane(origin=(0, -2, 0), x_dir=(0, 0, 1), z_dir=(0, -1, 0))))

    # 阵列(线性)10: 扫描2 ×2
    with Locations(*[(i * PATTERN_LINEAR_10_PITCH, 0, 0) for i in range(1, PATTERN_LINEAR_10_COUNT)]):
        add(sweep_2)

    # 阵列(线性)10 copy 1: sweep along a path in 阵列(线性)10 copy 1 path
    with BuildLine(Plane(origin=(3, -4, 0), x_dir=(0, 0, 1), z_dir=(-1, 0, 0))) as pattern_linear_10_copy_1_path:
        Line((0, 1.250284889), (-0.45, 1.250284889))
        ThreePointArc((-0.45, 1.250284889), (-0.520710678, 1.220995567), (-0.55, 1.150284889))
        Line((-0.55, 1.150284889), (-0.55, -0.5))
    # 阵列(线性)10 copy 1 sketch → 阵列(线性)10 copy 1 (sweep)
    with BuildSketch(Plane(origin=(2, -4, 0), x_dir=(-1, 0, 0), z_dir=(0, 0, -1))):
        with BuildLine():
            Line((-0.75, 0.85), (-0.75, 1.15))
            ThreePointArc((-0.75, 1.15), (-0.779289322, 1.220710678), (-0.85, 1.25))
            Line((-0.85, 1.25), (-1.15, 1.25))
            ThreePointArc((-1.15, 1.25), (-1.220710678, 1.220710678), (-1.25, 1.15))
            Line((-1.25, 1.15), (-1.25, 0.85))
            ThreePointArc((-1.25, 0.85), (-1.220710678, 0.779289322), (-1.15, 0.75))
            Line((-1.15, 0.75), (-0.85, 0.75))
            ThreePointArc((-0.85, 0.75), (-0.779289322, 0.779289322), (-0.75, 0.85))
        make_face()
    sweep(path=pattern_linear_10_copy_1_path.line)


solid = part.part
